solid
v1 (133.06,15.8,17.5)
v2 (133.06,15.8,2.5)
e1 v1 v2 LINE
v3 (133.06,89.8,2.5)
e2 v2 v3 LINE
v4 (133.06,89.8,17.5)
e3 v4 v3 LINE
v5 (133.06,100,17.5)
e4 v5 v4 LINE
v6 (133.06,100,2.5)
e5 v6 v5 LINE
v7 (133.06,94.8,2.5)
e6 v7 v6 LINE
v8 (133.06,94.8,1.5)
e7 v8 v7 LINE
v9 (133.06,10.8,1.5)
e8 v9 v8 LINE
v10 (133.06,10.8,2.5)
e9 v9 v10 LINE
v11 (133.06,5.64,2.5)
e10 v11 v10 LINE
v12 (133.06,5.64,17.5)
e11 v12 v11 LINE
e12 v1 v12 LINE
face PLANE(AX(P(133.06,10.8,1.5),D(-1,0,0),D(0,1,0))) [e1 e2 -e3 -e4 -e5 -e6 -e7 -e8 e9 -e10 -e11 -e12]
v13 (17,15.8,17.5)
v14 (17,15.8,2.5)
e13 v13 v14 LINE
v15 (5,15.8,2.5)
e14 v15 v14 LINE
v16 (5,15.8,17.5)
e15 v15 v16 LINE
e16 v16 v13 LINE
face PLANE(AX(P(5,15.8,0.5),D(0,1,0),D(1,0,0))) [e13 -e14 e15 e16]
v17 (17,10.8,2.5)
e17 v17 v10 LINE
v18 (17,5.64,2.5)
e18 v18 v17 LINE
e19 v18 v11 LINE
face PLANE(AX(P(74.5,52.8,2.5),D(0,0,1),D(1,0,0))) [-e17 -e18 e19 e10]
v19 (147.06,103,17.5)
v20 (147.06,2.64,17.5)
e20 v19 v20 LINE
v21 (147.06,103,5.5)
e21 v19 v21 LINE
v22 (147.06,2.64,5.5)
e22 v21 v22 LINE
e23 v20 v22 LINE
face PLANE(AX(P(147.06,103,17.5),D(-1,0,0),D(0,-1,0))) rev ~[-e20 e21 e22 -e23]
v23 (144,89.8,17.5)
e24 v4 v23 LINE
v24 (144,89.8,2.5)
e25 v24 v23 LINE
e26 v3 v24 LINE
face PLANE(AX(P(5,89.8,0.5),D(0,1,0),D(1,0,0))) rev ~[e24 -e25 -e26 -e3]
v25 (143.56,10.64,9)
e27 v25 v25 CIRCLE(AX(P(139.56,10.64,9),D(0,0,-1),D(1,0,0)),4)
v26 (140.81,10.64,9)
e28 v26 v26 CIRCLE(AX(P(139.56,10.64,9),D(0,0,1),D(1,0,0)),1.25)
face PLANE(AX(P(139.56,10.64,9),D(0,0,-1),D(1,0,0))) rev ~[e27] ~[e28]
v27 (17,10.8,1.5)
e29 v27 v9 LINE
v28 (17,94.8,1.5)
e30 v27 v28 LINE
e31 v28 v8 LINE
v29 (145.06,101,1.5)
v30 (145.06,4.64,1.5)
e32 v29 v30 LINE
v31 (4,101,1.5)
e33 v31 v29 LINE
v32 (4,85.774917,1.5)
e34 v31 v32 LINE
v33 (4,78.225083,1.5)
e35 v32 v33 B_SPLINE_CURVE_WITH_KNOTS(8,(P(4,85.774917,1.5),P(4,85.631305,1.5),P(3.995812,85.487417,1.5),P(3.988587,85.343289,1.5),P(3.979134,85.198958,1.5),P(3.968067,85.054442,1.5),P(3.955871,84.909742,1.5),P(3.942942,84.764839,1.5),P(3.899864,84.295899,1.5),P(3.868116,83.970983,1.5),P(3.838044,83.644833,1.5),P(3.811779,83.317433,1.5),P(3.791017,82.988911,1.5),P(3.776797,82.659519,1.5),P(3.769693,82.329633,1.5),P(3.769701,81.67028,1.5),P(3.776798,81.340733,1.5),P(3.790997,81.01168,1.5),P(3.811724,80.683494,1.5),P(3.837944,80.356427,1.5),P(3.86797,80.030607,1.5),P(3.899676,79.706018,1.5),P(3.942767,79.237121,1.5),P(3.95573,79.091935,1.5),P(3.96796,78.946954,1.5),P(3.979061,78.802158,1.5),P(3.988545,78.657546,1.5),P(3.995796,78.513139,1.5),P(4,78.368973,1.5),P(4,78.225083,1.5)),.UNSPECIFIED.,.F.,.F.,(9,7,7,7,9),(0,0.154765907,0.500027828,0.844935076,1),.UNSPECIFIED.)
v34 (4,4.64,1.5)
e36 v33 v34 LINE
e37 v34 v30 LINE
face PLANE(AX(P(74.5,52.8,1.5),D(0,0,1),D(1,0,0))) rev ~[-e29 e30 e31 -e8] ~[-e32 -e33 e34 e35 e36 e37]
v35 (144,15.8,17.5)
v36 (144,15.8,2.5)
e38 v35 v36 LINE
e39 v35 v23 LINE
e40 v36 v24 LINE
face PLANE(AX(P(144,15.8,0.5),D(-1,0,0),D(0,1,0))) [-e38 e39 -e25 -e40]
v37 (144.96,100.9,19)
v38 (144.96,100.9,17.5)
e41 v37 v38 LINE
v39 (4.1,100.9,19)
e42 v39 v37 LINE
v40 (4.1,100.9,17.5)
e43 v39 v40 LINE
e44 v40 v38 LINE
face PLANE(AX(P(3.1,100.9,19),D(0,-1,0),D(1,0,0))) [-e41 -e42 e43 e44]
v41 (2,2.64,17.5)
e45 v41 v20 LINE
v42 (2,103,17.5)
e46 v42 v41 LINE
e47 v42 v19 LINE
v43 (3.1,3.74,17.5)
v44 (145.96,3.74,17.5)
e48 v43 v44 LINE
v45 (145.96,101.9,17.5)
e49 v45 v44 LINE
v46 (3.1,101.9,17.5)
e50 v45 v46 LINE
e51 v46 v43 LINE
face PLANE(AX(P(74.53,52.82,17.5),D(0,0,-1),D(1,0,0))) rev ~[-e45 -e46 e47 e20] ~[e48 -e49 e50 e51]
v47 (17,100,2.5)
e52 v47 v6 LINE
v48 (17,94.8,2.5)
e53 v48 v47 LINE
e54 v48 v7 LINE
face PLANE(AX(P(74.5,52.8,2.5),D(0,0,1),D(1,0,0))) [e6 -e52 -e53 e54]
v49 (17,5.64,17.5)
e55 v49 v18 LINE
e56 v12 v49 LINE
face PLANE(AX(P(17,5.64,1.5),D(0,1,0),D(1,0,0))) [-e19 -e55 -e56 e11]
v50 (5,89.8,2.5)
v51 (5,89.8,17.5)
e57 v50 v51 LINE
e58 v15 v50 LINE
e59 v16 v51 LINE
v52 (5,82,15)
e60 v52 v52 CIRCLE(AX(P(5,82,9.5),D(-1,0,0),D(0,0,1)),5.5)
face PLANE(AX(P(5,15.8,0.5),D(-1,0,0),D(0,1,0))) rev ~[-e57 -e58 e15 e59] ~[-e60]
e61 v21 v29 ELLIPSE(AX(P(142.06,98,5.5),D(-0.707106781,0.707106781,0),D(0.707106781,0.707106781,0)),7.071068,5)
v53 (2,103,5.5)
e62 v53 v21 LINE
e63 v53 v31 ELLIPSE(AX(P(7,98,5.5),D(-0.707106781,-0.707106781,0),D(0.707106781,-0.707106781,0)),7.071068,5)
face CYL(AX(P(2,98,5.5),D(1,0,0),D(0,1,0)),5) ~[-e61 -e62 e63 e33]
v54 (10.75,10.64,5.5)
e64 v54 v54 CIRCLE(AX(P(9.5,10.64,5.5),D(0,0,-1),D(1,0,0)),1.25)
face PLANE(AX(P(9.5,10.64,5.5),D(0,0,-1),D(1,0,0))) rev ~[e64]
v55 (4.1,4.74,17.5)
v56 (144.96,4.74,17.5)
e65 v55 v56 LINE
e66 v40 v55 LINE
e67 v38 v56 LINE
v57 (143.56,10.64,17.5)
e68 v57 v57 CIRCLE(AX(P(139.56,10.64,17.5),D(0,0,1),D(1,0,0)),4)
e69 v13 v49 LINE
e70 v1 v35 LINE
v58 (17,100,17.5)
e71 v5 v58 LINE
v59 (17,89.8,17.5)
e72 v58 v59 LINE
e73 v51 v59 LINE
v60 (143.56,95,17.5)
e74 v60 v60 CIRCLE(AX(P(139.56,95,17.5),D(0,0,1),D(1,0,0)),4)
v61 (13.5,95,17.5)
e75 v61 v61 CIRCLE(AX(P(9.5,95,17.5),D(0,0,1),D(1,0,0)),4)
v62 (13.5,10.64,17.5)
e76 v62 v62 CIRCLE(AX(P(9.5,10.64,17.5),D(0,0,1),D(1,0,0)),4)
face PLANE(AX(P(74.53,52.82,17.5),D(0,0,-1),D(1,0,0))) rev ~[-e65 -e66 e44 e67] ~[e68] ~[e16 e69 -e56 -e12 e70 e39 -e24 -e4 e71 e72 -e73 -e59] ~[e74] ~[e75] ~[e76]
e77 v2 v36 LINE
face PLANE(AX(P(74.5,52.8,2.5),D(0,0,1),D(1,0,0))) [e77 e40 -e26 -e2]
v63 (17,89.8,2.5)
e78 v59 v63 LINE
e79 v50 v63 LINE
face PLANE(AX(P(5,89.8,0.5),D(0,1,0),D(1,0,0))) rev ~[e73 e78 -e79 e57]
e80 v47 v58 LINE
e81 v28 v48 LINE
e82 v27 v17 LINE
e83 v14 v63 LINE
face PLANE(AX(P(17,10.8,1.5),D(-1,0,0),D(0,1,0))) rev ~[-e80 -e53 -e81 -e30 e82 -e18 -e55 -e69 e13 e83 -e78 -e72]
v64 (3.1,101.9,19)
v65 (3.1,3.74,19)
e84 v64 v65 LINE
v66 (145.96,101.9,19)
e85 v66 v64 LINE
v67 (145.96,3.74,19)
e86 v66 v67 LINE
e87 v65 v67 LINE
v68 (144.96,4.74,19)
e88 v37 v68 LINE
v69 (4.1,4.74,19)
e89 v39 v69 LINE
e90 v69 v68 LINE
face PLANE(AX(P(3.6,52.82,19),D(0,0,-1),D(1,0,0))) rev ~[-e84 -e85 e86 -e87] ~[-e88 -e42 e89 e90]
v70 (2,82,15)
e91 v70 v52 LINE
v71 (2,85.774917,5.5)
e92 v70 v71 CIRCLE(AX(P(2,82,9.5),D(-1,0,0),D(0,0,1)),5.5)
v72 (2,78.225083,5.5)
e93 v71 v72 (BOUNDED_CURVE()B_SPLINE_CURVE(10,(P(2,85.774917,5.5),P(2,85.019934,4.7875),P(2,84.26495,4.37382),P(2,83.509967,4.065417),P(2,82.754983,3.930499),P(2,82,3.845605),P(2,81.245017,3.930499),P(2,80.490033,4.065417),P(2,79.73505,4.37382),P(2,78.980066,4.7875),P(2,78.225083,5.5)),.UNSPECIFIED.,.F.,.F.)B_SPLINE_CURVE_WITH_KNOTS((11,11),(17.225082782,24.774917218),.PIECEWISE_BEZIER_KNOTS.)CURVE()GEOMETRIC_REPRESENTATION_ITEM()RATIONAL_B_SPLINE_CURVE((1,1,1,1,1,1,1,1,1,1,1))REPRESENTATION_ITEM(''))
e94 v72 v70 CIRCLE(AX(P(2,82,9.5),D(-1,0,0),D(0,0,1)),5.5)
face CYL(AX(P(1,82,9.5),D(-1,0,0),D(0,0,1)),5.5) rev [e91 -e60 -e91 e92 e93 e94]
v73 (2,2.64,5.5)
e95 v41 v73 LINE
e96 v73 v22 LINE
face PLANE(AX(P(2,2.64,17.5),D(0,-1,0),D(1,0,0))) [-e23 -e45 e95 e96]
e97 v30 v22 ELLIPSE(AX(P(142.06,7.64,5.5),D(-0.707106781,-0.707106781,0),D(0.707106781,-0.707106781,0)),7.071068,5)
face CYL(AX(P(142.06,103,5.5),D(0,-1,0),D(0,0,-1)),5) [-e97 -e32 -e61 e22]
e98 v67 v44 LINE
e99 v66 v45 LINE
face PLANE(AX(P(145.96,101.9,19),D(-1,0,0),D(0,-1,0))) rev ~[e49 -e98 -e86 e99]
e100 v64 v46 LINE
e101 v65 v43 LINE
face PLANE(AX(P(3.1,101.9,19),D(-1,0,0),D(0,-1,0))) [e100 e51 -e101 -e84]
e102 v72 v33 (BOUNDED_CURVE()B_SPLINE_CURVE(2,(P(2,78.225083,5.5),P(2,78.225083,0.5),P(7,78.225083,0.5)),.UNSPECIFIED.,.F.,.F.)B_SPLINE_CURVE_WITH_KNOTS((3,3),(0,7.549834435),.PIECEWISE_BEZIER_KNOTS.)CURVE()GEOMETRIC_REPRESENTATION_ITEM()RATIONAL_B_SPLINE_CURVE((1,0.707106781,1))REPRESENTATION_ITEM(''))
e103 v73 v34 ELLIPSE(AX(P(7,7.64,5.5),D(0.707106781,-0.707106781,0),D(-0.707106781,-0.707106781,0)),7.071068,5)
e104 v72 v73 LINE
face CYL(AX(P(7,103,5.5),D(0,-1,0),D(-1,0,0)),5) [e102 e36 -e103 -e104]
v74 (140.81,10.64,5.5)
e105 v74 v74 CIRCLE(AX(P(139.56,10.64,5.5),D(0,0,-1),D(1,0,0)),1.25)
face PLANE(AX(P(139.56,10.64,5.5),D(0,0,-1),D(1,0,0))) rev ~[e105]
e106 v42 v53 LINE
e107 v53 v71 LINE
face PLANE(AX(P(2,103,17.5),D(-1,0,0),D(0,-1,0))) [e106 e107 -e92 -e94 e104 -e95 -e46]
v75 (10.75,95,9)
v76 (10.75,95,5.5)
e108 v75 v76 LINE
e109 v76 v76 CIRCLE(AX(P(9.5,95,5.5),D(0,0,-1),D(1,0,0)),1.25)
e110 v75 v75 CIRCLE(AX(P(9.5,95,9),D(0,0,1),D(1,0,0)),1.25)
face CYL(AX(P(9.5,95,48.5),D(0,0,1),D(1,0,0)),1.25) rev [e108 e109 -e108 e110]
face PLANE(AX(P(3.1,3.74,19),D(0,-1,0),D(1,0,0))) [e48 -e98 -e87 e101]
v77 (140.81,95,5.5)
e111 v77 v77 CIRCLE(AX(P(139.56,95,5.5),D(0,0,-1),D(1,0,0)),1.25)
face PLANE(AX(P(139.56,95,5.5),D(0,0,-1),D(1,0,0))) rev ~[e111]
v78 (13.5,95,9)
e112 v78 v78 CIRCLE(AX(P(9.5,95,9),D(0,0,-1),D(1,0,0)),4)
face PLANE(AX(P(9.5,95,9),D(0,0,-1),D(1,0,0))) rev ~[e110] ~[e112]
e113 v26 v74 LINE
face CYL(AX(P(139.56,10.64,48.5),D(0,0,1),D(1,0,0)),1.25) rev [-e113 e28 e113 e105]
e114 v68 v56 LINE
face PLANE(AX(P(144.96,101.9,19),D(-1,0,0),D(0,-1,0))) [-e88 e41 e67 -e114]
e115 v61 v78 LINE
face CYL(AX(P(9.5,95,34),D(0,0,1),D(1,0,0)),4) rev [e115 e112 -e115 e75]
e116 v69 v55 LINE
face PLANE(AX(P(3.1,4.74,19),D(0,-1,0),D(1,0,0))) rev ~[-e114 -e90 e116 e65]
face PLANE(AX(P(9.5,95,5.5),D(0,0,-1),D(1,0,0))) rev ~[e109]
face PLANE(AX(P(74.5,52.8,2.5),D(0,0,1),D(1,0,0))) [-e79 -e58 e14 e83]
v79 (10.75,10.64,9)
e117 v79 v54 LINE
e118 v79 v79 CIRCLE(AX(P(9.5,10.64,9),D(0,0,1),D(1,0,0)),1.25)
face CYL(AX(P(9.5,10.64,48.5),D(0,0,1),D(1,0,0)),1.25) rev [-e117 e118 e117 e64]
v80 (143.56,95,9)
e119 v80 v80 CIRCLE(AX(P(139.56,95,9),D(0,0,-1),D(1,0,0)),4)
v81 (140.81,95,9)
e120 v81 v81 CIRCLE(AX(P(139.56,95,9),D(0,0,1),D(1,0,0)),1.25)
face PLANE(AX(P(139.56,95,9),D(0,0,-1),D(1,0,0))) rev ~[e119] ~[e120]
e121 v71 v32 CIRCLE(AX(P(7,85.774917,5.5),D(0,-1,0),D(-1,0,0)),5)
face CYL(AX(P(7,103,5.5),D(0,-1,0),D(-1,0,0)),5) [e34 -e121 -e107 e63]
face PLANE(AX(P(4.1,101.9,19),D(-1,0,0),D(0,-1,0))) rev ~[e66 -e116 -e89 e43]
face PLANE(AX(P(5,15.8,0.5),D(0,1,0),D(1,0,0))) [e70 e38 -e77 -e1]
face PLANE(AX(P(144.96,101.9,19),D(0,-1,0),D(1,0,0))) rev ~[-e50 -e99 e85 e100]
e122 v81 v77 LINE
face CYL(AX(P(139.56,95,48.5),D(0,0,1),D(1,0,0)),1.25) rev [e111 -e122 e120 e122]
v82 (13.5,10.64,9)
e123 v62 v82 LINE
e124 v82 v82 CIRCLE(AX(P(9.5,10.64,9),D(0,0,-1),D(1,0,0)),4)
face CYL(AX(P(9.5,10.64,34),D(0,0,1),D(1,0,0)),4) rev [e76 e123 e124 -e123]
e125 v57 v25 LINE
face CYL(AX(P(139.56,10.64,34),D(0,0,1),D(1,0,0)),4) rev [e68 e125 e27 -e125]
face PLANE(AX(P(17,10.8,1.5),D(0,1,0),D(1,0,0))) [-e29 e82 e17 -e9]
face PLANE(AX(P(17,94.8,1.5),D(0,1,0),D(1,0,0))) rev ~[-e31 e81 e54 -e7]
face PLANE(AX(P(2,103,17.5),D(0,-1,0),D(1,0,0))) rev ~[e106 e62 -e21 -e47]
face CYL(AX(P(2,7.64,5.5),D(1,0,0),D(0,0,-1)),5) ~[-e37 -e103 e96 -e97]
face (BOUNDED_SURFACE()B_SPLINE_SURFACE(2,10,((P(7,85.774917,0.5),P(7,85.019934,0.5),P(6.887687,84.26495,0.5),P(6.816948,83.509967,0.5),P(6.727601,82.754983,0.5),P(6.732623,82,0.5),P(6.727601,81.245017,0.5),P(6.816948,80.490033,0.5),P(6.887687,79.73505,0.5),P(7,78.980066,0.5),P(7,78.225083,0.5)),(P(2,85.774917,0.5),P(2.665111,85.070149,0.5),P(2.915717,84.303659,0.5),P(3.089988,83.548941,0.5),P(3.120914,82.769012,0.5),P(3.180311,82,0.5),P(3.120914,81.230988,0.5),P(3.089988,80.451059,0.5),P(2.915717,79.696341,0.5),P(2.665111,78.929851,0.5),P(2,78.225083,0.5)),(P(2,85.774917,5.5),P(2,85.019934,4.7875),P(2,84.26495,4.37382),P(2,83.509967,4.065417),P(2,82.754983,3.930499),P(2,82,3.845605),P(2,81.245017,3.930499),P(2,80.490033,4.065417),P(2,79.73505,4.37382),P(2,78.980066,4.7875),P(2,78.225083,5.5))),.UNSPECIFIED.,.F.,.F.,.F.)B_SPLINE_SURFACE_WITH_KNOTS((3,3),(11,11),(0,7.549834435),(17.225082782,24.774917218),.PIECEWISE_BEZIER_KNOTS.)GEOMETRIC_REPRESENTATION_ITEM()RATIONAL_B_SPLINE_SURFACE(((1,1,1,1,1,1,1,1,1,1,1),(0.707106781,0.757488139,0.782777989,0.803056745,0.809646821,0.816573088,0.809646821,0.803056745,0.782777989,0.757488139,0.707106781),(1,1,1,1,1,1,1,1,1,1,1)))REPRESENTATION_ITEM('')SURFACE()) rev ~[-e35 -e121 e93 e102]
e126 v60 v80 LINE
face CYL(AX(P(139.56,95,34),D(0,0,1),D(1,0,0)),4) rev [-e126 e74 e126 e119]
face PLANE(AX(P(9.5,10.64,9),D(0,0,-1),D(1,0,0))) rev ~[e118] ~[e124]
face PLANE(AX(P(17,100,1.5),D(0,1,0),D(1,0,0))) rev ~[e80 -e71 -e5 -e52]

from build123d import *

# Parameters (mm, degrees)
BOX025_W                  = 116.06
BOX025_H                  = 84
BOX025_DEPTH              = 1
BOX026_W                  = 139
BOX026_H                  = 74
BOX026_DEPTH              = 1
BOX024_W                  = 139
BOX024_H                  = 74
BOX024_DEPTH              = 1
BOX023_W                  = 116.06
BOX023_H                  = 94.36
BOX023_DEPTH              = 1
BOX022_W                  = 139
BOX022_H                  = 74
BOX022_DEPTH              = 20
BOX021_W                  = 147
BOX021_H                  = 105
BOX021_DEPTH              = 10
BOX_W                     = 116.06
BOX_H                     = 94.36
BOX_DEPTH                 = 10
BOX019_W                  = 40
BOX019_H                  = 2
BOX019_DEPTH              = 1
ARRAY_Y_COUNT             = 2
ARRAY_Y_PITCH             = 60
BOX020_W                  = 2
BOX020_H                  = 60
BOX020_DEPTH              = 1
ARRAY028_X_COUNT          = 2
ARRAY028_X_PITCH          = 40
BOX018_W                  = 40
BOX018_H                  = 60
BOX018_DEPTH              = 5
CYLINDER023_R             = 4
CYLINDER023_DEPTH         = 25
ARRAY027_X_COUNT          = 2
ARRAY027_X_PITCH          = 130.06
ARRAY027_Y_COUNT          = 2
ARRAY027_Y_PITCH          = 84.36
BOX017_W                  = 100
BOX017_H                  = 94.36
BOX017_DEPTH              = 27.5
CYLINDER010_R             = 1
CYLINDER010_DEPTH         = 10
ARRAY008_COUNT            = 8
CYLINDER009_R             = 1
CYLINDER009_DEPTH         = 10
CYLINDER008_R             = 11
CYLINDER008_DEPTH         = 1
BOX012_W                  = 40
BOX012_H                  = 60
BOX012_DEPTH              = 1
CYLINDER007_R             = 2.75
CYLINDER007_DEPTH         = 4
CYLINDER006_R             = 2.75
CYLINDER006_DEPTH         = 4
CYLINDER005_R             = 3
CYLINDER005_DEPTH         = 1
CYLINDER004_R             = 3
CYLINDER004_DEPTH         = 1
BOX011_W                  = 1
BOX011_H                  = 98.16
BOX011_DEPTH              = 1.5
ARRAY007_X_COUNT          = 2
ARRAY007_X_PITCH          = 141.86
CYLINDER003_R             = 5.5
CYLINDER003_DEPTH         = 19
CYLINDER003_PITCH_ANGLE   = 90
BOX007_W                  = 7
BOX007_H                  = 7
BOX007_DEPTH              = 19.5
ARRAY003_X_COUNT          = 2
ARRAY003_X_PITCH          = 77.06
ARRAY003_Y_COUNT          = 2
ARRAY003_Y_PITCH          = 87.36
CYLINDER002_R             = 1.25
CYLINDER002_DEPTH         = 43
ARRAY002_X_COUNT          = 2
ARRAY002_X_PITCH          = 130.06
ARRAY002_Y_COUNT          = 2
ARRAY002_Y_PITCH          = 84.36
BOX006_W                  = 116.06
BOX006_H                  = 94.36
BOX006_DEPTH              = 14
BOX005_W                  = 145.06
BOX005_H                  = 100.36
BOX005_DEPTH              = 17
BOX010_W                  = 142.76
BOX010_H                  = 1
BOX010_DEPTH              = 1.5
ARRAY006_Y_COUNT          = 2
ARRAY006_Y_PITCH          = 97.16
FILLET_R                  = 5
FUSION010_PLACEMENT_ANGLE = 180


with BuildPart() as big_rect002:
    # Box025 → Box025 (new body)
    with BuildSketch(Plane(origin=(17, 10.8, 1.5), x_dir=(1, 0, 0), z_dir=(0, 0, 1))):
        with Locations((58.03, 42)):
            Rectangle(BOX025_W, BOX025_H)
    extrude(amount=BOX025_DEPTH)


with BuildPart() as big_rect003:
    # Box026 → Box026 (new body)
    with BuildSketch(Plane(origin=(5, 15.8, 1.5), x_dir=(1, 0, 0), z_dir=(0, 0, 1))):
        with Locations((69.5, 37)):
            Rectangle(BOX026_W, BOX026_H)
    extrude(amount=BOX026_DEPTH)


with BuildPart() as big_rect001:
    # Box024 → Box024 (new body)
    with BuildSketch(Plane(origin=(5, 15.8, 1.5), x_dir=(1, 0, 0), z_dir=(0, 0, 1))):
        with Locations((69.5, 37)):
            Rectangle(BOX024_W, BOX024_H)
    extrude(amount=BOX024_DEPTH)


with BuildPart() as big_rect:
    # Box023 → Box023 (new body)
    with BuildSketch(Plane(origin=(17, 5.64, 1.5), x_dir=(1, 0, 0), z_dir=(0, 0, 1))):
        with Locations((58.03, 47.18)):
            Rectangle(BOX023_W, BOX023_H)
    extrude(amount=BOX023_DEPTH)


with BuildPart() as cube002:
    # Box022 → Box022 (new body)
    with BuildSketch(Plane(origin=(5, 15.8, 0.5), x_dir=(1, 0, 0), z_dir=(0, 0, 1))):
        with Locations((69.5, 37)):
            Rectangle(BOX022_W, BOX022_H)
    extrude(amount=BOX022_DEPTH)


with BuildPart() as cube001:
    # Box021 → Box021 (new body)
    with BuildSketch(Plane(origin=(2, 0, -8.5), x_dir=(1, 0, 0), z_dir=(0, 0, 1))):
        with Locations((73.5, 52.5)):
            Rectangle(BOX021_W, BOX021_H)
    extrude(amount=BOX021_DEPTH)


with BuildPart() as cube:
    # Box → Box (new body)
    with BuildSketch(Plane(origin=(17, 5.64, 1.5), x_dir=(1, 0, 0), z_dir=(0, 0, 1))):
        with Locations((58.03, 47.18)):
            Rectangle(BOX_W, BOX_H)
    extrude(amount=BOX_DEPTH)


with BuildPart() as array_border_rfid_short:
    # Box019 → Box019 (new body)
    with BuildSketch(Plane(origin=(85, 23, 32.5), x_dir=(1, 0, 0), z_dir=(0, 0, 1))):
        with Locations((20, 1)):
            Rectangle(BOX019_W, BOX019_H)
    extrude(amount=BOX019_DEPTH)

    # Array Y: array_border_rfid_short ×2


with BuildPart() as array_border_rfid_short_1:
    add(array_border_rfid_short.part)
    with Locations(*[(0, i * ARRAY_Y_PITCH, 0) for i in range(1, ARRAY_Y_COUNT)]):
        add(array_border_rfid_short.part)


with BuildPart() as border_rfid_slot:
    # Box020 → Box020 (new body)
    with BuildSketch(Plane(origin=(84, 24, 32.5), x_dir=(1, 0, 0), z_dir=(0, 0, 1))):
        with Locations((1, 30)):
            Rectangle(BOX020_W, BOX020_H)
    extrude(amount=BOX020_DEPTH)

    # Array028 X: border_rfid_slot ×2


with BuildPart() as border_rfid_slot_1:
    add(border_rfid_slot.part)
    with Locations(*[(i * ARRAY028_X_PITCH, 0, 0) for i in range(1, ARRAY028_X_COUNT)]):
        add(border_rfid_slot.part)

    # Fusion: union array_border_rfid_short
    add(array_border_rfid_short_1.part)


with BuildPart() as slot_for_rfid_hole:
    # Box018 → Box018 (new body)
    with BuildSketch(Plane(origin=(85, 24, 29.5), x_dir=(1, 0, 0), z_dir=(0, 0, 1))):
        with Locations((20, 30)):
            Rectangle(BOX018_W, BOX018_H)
    extrude(amount=BOX018_DEPTH)


with BuildPart() as array027:
    # Cylinder023 → Cylinder023 (new body)
    with BuildSketch(Plane(origin=(3.5, 8, 0), x_dir=(1, 0, 0), z_dir=(0, 0, 1))):
        Circle(CYLINDER023_R)
    extrude(amount=CYLINDER023_DEPTH)

    # Array027 X: Array027 ×2


with BuildPart() as array027_1:
    add(array027.part)
    with Locations(*[(i * ARRAY027_X_PITCH, 0, 0) for i in range(1, ARRAY027_X_COUNT)]):
        add(array027.part)

    # Array027 Y: Array027 ×2


with BuildPart() as array027_2:
    add(array027_1.part)
    with Locations(*[(0, i * ARRAY027_Y_PITCH, 0) for i in range(1, ARRAY027_Y_COUNT)]):
        add(array027_1.part)


with BuildPart() as erase_supports_top:
    # Box017 → Box017 (new body)
    with BuildSketch(Plane(origin=(11, 3, 3), x_dir=(1, 0, 0), z_dir=(0, 0, 1))):
        with Locations((50, 47.18)):
            Rectangle(BOX017_W, BOX017_H)
    extrude(amount=BOX017_DEPTH)


with BuildPart() as miniholes_buzzer_polar:
    # Cylinder010 → Cylinder010 (new body)
    with BuildSketch(Plane(origin=(18.45, 78.5, 49.5), x_dir=(1, 0, 0), z_dir=(0, 0, 1))):
        Circle(CYLINDER010_R)
    extrude(amount=CYLINDER010_DEPTH)

    # Array008: miniholes_buzzer_polar ×8 about axis
    array008_axis = Axis((25.45, 78.5, 49.5), (0, 0, 1))


with BuildPart() as miniholes_buzzer_polar_1:
    add(miniholes_buzzer_polar.part)
    for i in range(1, ARRAY008_COUNT):
        add(miniholes_buzzer_polar.part.rotate(array008_axis, i * 360 / ARRAY008_COUNT))


with BuildPart() as miniholes_buzzer_center:
    # Cylinder009 → Cylinder009 (new body)
    with BuildSketch(Plane(origin=(25.446, 78.5, 49.5), x_dir=(1, 0, 0), z_dir=(0, 0, 1))):
        Circle(CYLINDER009_R)
    extrude(amount=CYLINDER009_DEPTH)


with BuildPart() as slot_for_buzzer:
    # Cylinder008 → Cylinder008 (new body)
    with BuildSketch(Plane(origin=(39.4, 79.4, 54.5), x_dir=(1, 0, 0), z_dir=(0, 0, 1))):
        Circle(CYLINDER008_R)
    extrude(amount=CYLINDER008_DEPTH)


with BuildPart() as slot_for_rfid:
    # Box012 → Box012 (new body)
    with BuildSketch(Plane(origin=(85, 24, 54.5), x_dir=(1, 0, 0), z_dir=(0, 0, 1))):
        with Locations((20, 30)):
            Rectangle(BOX012_W, BOX012_H)
    extrude(amount=BOX012_DEPTH)


with BuildPart() as led2_hole_up001:
    # Cylinder007 → Cylinder007 (new body)
    with BuildSketch(Plane(origin=(71.9, 84.5, 51.5), x_dir=(1, 0, 0), z_dir=(0, 0, 1))):
        Circle(CYLINDER007_R)
    extrude(amount=CYLINDER007_DEPTH)


with BuildPart() as led1_hole_up001:
    # Cylinder006 → Cylinder006 (new body)
    with BuildSketch(Plane(origin=(71.9, 74.3, 51.5), x_dir=(1, 0, 0), z_dir=(0, 0, 1))):
        Circle(CYLINDER006_R)
    extrude(amount=CYLINDER006_DEPTH)


with BuildPart() as led1_hole_up:
    # Cylinder005 → Cylinder005 (new body)
    with BuildSketch(Plane(origin=(71.9, 74.3, 52.5), x_dir=(1, 0, 0), z_dir=(0, 0, 1))):
        Circle(CYLINDER005_R)
    extrude(amount=CYLINDER005_DEPTH)


with BuildPart() as led2_hole_up:
    # Cylinder004 → Cylinder004 (new body)
    with BuildSketch(Plane(origin=(71.9, 84.5, 52.5), x_dir=(1, 0, 0), z_dir=(0, 0, 1))):
        Circle(CYLINDER004_R)
    extrude(amount=CYLINDER004_DEPTH)


with BuildPart() as array_cierre_top_width:
    # Box011 → Box011 (new body)
    with BuildSketch(Plane(origin=(-2.9, 1.1, 34.5), x_dir=(1, 0, 0), z_dir=(0, 0, 1))):
        with Locations((0.5, 49.08)):
            Rectangle(BOX011_W, BOX011_H)
    extrude(amount=BOX011_DEPTH)

    # Array007 X: array_cierre_top_width ×2


with BuildPart() as array_cierre_top_width_1:
    add(array_cierre_top_width.part)
    with Locations(*[(i * ARRAY007_X_PITCH, 0, 0) for i in range(1, ARRAY007_X_COUNT)]):
        add(array_cierre_top_width.part)


with BuildPart() as hole_power_supply:
    # Cylinder003 → Cylinder003 (new body)
    with BuildSketch(Plane.XY):
        Circle(CYLINDER003_R)
    extrude(amount=CYLINDER003_DEPTH)


with BuildPart() as hole_power_supply_1:
    # Cylinder003 pitch: moved
    add(hole_power_supply.part.rotate(Axis((0, 0, 0), (0, 1, 0)), CYLINDER003_PITCH_ANGLE))


with BuildPart() as hole_power_supply_2:
    # Cylinder003 placement: moved
    add(hole_power_supply_1.part.moved(Location((-5, 21, 23))))


with BuildPart() as array_top_case_support_master:
    # Box007 → Box007 (new body)
    with BuildSketch(Plane(origin=(18.5, 3, -10.5), x_dir=(1, 0, 0), z_dir=(0, 0, 1))):
        with Locations((3.5, 3.5)):
            Rectangle(BOX007_W, BOX007_H)
    extrude(amount=BOX007_DEPTH)

    # Array003 X: array_top_case_support_master ×2


with BuildPart() as array_top_case_support_master_1:
    add(array_top_case_support_master.part)
    with Locations(*[(i * ARRAY003_X_PITCH, 0, 0) for i in range(1, ARRAY003_X_COUNT)]):
        add(array_top_case_support_master.part)

    # Array003 Y: array_top_case_support_master ×2


with BuildPart() as array_top_case_support_master_2:
    add(array_top_case_support_master_1.part)
    with Locations(*[(0, i * ARRAY003_Y_PITCH, 0) for i in range(1, ARRAY003_Y_COUNT)]):
        add(array_top_case_support_master_1.part)


with BuildPart() as array_top_case_support_master_3:
    # Array003 placement: moved
    add(array_top_case_support_master_2.part.moved(Location((0, 0, 36))))


with BuildPart() as array002:
    # Cylinder002 → Cylinder002 (new body)
    with BuildSketch(Plane(origin=(3.5, 8, 0), x_dir=(1, 0, 0), z_dir=(0, 0, 1))):
        Circle(CYLINDER002_R)
    extrude(amount=CYLINDER002_DEPTH)

    # Array002 X: Array002 ×2


with BuildPart() as array002_1:
    add(array002.part)
    with Locations(*[(i * ARRAY002_X_PITCH, 0, 0) for i in range(1, ARRAY002_X_COUNT)]):
        add(array002.part)

    # Array002 Y: Array002 ×2


with BuildPart() as array002_2:
    add(array002_1.part)
    with Locations(*[(0, i * ARRAY002_Y_PITCH, 0) for i in range(1, ARRAY002_Y_COUNT)]):
        add(array002_1.part)


with BuildPart() as top_case_master_emptying:
    # Box006 → Box006 (new body)
    with BuildSketch(Plane(origin=(11, 3, 31), x_dir=(1, 0, 0), z_dir=(0, 0, 1))):
        with Locations((58.03, 47.18)):
            Rectangle(BOX006_W, BOX006_H)
    extrude(amount=BOX006_DEPTH)


with BuildPart() as fusion007:
    # Box005 → Box005 (new body)
    with BuildSketch(Plane(origin=(-4, 0, 31), x_dir=(1, 0, 0), z_dir=(0, 0, 1))):
        with Locations((72.53, 50.18)):
            Rectangle(BOX005_W, BOX005_H)
    extrude(amount=BOX005_DEPTH)

    # Cut002: cut top_case_master_emptying
    add(top_case_master_emptying.part, mode=Mode.SUBTRACT)

    # Cut003: cut Array002
    add(array002_2.part, mode=Mode.SUBTRACT)

    # Fusion004: union array_top_case_support_master
    add(array_top_case_support_master_3.part)


with BuildPart() as fusion007_1:
    # Fusion004 placement: moved
    add(fusion007.part.moved(Location((0, 0, -16))))

    # Cut004: cut hole_power_supply
    add(hole_power_supply_2.part, mode=Mode.SUBTRACT)


with BuildPart() as fusion007_2:
    # Cut004 placement: moved
    add(fusion007_1.part.moved(Location((0, 0, 21))))

    # Fusion007: union array_cierre_top_width
    add(array_cierre_top_width_1.part)


with BuildPart() as cut029:
    # Box010 → Box010 (new body)
    with BuildSketch(Plane(origin=(-2.9, 1.1, 34.5), x_dir=(1, 0, 0), z_dir=(0, 0, 1))):
        with Locations((71.38, 0.5)):
            Rectangle(BOX010_W, BOX010_H)
    extrude(amount=BOX010_DEPTH)

    # Array006 Y: Cut029 ×2


with BuildPart() as cut029_1:
    add(cut029.part)
    with Locations(*[(0, i * ARRAY006_Y_PITCH, 0) for i in range(1, ARRAY006_Y_COUNT)]):
        add(cut029.part)

    # Fusion008: union Fusion007
    add(fusion007_2.part)


with BuildPart() as cut029_2:
    # Fusion008 placement: moved
    add(cut029_1.part.moved(Location((0, 0, 2.5))))

    # Cut005: cut led2_hole_up
    add(led2_hole_up.part, mode=Mode.SUBTRACT)

    # Cut006: cut led1_hole_up
    add(led1_hole_up.part, mode=Mode.SUBTRACT)

    # Cut007: cut led1_hole_up001
    add(led1_hole_up001.part, mode=Mode.SUBTRACT)

    # Cut008: cut led2_hole_up001
    add(led2_hole_up001.part, mode=Mode.SUBTRACT)

    # Fillet
    fillet_edges = [cut029_2.edges().sort_by_distance(p)[0] for p in [
        (-4, 50.18, 55.5),
        (68.53, 0, 55.5),
        (68.53, 100.36, 55.5),
        (141.06, 50.18, 55.5),
    ]]
    fillet(fillet_edges, radius=FILLET_R)

    # Cut009: cut slot_for_rfid
    add(slot_for_rfid.part, mode=Mode.SUBTRACT)

    # Fusion009: union slot_for_buzzer
    add(slot_for_buzzer.part)

    # Cut010: cut miniholes_buzzer_center
    add(miniholes_buzzer_center.part, mode=Mode.SUBTRACT)

    # Cut011: cut miniholes_buzzer_polar
    add(miniholes_buzzer_polar_1.part, mode=Mode.SUBTRACT)


with BuildPart() as cut029_3:
    # Cut011 placement: moved
    add(cut029_2.part.moved(Location((0, 0, -22))))

    # Cut015: cut erase_supports_top
    add(erase_supports_top.part, mode=Mode.SUBTRACT)

    # Cut024: cut Array027
    add(array027_2.part, mode=Mode.SUBTRACT)

    # Cut: cut slot_for_rfid_hole
    add(slot_for_rfid_hole.part, mode=Mode.SUBTRACT)

    # Fusion010: union border_rfid_slot
    add(border_rfid_slot_1.part)


with BuildPart() as cut029_4:
    # Fusion010 placement: moved
    add(cut029_3.part.moved(Location((6, 103, 34))).rotate(Axis((6, 103, 34), (1, 0, 0)), FUSION010_PLACEMENT_ANGLE))

    # Cut025: cut Cube
    add(cube.part, mode=Mode.SUBTRACT)

    # Cut026: cut Cube001
    add(cube001.part, mode=Mode.SUBTRACT)

    # Cut027: cut Cube002
    add(cube002.part, mode=Mode.SUBTRACT)

    # Fusion011: union big_rect
    add(big_rect.part)

    # Cut028: cut big_rect001
    add(big_rect001.part, mode=Mode.SUBTRACT)

    # Fusion012: union big_rect003
    add(big_rect003.part)

    # Cut029: cut big_rect002
    add(big_rect002.part, mode=Mode.SUBTRACT)


solid = cut029_4.part
